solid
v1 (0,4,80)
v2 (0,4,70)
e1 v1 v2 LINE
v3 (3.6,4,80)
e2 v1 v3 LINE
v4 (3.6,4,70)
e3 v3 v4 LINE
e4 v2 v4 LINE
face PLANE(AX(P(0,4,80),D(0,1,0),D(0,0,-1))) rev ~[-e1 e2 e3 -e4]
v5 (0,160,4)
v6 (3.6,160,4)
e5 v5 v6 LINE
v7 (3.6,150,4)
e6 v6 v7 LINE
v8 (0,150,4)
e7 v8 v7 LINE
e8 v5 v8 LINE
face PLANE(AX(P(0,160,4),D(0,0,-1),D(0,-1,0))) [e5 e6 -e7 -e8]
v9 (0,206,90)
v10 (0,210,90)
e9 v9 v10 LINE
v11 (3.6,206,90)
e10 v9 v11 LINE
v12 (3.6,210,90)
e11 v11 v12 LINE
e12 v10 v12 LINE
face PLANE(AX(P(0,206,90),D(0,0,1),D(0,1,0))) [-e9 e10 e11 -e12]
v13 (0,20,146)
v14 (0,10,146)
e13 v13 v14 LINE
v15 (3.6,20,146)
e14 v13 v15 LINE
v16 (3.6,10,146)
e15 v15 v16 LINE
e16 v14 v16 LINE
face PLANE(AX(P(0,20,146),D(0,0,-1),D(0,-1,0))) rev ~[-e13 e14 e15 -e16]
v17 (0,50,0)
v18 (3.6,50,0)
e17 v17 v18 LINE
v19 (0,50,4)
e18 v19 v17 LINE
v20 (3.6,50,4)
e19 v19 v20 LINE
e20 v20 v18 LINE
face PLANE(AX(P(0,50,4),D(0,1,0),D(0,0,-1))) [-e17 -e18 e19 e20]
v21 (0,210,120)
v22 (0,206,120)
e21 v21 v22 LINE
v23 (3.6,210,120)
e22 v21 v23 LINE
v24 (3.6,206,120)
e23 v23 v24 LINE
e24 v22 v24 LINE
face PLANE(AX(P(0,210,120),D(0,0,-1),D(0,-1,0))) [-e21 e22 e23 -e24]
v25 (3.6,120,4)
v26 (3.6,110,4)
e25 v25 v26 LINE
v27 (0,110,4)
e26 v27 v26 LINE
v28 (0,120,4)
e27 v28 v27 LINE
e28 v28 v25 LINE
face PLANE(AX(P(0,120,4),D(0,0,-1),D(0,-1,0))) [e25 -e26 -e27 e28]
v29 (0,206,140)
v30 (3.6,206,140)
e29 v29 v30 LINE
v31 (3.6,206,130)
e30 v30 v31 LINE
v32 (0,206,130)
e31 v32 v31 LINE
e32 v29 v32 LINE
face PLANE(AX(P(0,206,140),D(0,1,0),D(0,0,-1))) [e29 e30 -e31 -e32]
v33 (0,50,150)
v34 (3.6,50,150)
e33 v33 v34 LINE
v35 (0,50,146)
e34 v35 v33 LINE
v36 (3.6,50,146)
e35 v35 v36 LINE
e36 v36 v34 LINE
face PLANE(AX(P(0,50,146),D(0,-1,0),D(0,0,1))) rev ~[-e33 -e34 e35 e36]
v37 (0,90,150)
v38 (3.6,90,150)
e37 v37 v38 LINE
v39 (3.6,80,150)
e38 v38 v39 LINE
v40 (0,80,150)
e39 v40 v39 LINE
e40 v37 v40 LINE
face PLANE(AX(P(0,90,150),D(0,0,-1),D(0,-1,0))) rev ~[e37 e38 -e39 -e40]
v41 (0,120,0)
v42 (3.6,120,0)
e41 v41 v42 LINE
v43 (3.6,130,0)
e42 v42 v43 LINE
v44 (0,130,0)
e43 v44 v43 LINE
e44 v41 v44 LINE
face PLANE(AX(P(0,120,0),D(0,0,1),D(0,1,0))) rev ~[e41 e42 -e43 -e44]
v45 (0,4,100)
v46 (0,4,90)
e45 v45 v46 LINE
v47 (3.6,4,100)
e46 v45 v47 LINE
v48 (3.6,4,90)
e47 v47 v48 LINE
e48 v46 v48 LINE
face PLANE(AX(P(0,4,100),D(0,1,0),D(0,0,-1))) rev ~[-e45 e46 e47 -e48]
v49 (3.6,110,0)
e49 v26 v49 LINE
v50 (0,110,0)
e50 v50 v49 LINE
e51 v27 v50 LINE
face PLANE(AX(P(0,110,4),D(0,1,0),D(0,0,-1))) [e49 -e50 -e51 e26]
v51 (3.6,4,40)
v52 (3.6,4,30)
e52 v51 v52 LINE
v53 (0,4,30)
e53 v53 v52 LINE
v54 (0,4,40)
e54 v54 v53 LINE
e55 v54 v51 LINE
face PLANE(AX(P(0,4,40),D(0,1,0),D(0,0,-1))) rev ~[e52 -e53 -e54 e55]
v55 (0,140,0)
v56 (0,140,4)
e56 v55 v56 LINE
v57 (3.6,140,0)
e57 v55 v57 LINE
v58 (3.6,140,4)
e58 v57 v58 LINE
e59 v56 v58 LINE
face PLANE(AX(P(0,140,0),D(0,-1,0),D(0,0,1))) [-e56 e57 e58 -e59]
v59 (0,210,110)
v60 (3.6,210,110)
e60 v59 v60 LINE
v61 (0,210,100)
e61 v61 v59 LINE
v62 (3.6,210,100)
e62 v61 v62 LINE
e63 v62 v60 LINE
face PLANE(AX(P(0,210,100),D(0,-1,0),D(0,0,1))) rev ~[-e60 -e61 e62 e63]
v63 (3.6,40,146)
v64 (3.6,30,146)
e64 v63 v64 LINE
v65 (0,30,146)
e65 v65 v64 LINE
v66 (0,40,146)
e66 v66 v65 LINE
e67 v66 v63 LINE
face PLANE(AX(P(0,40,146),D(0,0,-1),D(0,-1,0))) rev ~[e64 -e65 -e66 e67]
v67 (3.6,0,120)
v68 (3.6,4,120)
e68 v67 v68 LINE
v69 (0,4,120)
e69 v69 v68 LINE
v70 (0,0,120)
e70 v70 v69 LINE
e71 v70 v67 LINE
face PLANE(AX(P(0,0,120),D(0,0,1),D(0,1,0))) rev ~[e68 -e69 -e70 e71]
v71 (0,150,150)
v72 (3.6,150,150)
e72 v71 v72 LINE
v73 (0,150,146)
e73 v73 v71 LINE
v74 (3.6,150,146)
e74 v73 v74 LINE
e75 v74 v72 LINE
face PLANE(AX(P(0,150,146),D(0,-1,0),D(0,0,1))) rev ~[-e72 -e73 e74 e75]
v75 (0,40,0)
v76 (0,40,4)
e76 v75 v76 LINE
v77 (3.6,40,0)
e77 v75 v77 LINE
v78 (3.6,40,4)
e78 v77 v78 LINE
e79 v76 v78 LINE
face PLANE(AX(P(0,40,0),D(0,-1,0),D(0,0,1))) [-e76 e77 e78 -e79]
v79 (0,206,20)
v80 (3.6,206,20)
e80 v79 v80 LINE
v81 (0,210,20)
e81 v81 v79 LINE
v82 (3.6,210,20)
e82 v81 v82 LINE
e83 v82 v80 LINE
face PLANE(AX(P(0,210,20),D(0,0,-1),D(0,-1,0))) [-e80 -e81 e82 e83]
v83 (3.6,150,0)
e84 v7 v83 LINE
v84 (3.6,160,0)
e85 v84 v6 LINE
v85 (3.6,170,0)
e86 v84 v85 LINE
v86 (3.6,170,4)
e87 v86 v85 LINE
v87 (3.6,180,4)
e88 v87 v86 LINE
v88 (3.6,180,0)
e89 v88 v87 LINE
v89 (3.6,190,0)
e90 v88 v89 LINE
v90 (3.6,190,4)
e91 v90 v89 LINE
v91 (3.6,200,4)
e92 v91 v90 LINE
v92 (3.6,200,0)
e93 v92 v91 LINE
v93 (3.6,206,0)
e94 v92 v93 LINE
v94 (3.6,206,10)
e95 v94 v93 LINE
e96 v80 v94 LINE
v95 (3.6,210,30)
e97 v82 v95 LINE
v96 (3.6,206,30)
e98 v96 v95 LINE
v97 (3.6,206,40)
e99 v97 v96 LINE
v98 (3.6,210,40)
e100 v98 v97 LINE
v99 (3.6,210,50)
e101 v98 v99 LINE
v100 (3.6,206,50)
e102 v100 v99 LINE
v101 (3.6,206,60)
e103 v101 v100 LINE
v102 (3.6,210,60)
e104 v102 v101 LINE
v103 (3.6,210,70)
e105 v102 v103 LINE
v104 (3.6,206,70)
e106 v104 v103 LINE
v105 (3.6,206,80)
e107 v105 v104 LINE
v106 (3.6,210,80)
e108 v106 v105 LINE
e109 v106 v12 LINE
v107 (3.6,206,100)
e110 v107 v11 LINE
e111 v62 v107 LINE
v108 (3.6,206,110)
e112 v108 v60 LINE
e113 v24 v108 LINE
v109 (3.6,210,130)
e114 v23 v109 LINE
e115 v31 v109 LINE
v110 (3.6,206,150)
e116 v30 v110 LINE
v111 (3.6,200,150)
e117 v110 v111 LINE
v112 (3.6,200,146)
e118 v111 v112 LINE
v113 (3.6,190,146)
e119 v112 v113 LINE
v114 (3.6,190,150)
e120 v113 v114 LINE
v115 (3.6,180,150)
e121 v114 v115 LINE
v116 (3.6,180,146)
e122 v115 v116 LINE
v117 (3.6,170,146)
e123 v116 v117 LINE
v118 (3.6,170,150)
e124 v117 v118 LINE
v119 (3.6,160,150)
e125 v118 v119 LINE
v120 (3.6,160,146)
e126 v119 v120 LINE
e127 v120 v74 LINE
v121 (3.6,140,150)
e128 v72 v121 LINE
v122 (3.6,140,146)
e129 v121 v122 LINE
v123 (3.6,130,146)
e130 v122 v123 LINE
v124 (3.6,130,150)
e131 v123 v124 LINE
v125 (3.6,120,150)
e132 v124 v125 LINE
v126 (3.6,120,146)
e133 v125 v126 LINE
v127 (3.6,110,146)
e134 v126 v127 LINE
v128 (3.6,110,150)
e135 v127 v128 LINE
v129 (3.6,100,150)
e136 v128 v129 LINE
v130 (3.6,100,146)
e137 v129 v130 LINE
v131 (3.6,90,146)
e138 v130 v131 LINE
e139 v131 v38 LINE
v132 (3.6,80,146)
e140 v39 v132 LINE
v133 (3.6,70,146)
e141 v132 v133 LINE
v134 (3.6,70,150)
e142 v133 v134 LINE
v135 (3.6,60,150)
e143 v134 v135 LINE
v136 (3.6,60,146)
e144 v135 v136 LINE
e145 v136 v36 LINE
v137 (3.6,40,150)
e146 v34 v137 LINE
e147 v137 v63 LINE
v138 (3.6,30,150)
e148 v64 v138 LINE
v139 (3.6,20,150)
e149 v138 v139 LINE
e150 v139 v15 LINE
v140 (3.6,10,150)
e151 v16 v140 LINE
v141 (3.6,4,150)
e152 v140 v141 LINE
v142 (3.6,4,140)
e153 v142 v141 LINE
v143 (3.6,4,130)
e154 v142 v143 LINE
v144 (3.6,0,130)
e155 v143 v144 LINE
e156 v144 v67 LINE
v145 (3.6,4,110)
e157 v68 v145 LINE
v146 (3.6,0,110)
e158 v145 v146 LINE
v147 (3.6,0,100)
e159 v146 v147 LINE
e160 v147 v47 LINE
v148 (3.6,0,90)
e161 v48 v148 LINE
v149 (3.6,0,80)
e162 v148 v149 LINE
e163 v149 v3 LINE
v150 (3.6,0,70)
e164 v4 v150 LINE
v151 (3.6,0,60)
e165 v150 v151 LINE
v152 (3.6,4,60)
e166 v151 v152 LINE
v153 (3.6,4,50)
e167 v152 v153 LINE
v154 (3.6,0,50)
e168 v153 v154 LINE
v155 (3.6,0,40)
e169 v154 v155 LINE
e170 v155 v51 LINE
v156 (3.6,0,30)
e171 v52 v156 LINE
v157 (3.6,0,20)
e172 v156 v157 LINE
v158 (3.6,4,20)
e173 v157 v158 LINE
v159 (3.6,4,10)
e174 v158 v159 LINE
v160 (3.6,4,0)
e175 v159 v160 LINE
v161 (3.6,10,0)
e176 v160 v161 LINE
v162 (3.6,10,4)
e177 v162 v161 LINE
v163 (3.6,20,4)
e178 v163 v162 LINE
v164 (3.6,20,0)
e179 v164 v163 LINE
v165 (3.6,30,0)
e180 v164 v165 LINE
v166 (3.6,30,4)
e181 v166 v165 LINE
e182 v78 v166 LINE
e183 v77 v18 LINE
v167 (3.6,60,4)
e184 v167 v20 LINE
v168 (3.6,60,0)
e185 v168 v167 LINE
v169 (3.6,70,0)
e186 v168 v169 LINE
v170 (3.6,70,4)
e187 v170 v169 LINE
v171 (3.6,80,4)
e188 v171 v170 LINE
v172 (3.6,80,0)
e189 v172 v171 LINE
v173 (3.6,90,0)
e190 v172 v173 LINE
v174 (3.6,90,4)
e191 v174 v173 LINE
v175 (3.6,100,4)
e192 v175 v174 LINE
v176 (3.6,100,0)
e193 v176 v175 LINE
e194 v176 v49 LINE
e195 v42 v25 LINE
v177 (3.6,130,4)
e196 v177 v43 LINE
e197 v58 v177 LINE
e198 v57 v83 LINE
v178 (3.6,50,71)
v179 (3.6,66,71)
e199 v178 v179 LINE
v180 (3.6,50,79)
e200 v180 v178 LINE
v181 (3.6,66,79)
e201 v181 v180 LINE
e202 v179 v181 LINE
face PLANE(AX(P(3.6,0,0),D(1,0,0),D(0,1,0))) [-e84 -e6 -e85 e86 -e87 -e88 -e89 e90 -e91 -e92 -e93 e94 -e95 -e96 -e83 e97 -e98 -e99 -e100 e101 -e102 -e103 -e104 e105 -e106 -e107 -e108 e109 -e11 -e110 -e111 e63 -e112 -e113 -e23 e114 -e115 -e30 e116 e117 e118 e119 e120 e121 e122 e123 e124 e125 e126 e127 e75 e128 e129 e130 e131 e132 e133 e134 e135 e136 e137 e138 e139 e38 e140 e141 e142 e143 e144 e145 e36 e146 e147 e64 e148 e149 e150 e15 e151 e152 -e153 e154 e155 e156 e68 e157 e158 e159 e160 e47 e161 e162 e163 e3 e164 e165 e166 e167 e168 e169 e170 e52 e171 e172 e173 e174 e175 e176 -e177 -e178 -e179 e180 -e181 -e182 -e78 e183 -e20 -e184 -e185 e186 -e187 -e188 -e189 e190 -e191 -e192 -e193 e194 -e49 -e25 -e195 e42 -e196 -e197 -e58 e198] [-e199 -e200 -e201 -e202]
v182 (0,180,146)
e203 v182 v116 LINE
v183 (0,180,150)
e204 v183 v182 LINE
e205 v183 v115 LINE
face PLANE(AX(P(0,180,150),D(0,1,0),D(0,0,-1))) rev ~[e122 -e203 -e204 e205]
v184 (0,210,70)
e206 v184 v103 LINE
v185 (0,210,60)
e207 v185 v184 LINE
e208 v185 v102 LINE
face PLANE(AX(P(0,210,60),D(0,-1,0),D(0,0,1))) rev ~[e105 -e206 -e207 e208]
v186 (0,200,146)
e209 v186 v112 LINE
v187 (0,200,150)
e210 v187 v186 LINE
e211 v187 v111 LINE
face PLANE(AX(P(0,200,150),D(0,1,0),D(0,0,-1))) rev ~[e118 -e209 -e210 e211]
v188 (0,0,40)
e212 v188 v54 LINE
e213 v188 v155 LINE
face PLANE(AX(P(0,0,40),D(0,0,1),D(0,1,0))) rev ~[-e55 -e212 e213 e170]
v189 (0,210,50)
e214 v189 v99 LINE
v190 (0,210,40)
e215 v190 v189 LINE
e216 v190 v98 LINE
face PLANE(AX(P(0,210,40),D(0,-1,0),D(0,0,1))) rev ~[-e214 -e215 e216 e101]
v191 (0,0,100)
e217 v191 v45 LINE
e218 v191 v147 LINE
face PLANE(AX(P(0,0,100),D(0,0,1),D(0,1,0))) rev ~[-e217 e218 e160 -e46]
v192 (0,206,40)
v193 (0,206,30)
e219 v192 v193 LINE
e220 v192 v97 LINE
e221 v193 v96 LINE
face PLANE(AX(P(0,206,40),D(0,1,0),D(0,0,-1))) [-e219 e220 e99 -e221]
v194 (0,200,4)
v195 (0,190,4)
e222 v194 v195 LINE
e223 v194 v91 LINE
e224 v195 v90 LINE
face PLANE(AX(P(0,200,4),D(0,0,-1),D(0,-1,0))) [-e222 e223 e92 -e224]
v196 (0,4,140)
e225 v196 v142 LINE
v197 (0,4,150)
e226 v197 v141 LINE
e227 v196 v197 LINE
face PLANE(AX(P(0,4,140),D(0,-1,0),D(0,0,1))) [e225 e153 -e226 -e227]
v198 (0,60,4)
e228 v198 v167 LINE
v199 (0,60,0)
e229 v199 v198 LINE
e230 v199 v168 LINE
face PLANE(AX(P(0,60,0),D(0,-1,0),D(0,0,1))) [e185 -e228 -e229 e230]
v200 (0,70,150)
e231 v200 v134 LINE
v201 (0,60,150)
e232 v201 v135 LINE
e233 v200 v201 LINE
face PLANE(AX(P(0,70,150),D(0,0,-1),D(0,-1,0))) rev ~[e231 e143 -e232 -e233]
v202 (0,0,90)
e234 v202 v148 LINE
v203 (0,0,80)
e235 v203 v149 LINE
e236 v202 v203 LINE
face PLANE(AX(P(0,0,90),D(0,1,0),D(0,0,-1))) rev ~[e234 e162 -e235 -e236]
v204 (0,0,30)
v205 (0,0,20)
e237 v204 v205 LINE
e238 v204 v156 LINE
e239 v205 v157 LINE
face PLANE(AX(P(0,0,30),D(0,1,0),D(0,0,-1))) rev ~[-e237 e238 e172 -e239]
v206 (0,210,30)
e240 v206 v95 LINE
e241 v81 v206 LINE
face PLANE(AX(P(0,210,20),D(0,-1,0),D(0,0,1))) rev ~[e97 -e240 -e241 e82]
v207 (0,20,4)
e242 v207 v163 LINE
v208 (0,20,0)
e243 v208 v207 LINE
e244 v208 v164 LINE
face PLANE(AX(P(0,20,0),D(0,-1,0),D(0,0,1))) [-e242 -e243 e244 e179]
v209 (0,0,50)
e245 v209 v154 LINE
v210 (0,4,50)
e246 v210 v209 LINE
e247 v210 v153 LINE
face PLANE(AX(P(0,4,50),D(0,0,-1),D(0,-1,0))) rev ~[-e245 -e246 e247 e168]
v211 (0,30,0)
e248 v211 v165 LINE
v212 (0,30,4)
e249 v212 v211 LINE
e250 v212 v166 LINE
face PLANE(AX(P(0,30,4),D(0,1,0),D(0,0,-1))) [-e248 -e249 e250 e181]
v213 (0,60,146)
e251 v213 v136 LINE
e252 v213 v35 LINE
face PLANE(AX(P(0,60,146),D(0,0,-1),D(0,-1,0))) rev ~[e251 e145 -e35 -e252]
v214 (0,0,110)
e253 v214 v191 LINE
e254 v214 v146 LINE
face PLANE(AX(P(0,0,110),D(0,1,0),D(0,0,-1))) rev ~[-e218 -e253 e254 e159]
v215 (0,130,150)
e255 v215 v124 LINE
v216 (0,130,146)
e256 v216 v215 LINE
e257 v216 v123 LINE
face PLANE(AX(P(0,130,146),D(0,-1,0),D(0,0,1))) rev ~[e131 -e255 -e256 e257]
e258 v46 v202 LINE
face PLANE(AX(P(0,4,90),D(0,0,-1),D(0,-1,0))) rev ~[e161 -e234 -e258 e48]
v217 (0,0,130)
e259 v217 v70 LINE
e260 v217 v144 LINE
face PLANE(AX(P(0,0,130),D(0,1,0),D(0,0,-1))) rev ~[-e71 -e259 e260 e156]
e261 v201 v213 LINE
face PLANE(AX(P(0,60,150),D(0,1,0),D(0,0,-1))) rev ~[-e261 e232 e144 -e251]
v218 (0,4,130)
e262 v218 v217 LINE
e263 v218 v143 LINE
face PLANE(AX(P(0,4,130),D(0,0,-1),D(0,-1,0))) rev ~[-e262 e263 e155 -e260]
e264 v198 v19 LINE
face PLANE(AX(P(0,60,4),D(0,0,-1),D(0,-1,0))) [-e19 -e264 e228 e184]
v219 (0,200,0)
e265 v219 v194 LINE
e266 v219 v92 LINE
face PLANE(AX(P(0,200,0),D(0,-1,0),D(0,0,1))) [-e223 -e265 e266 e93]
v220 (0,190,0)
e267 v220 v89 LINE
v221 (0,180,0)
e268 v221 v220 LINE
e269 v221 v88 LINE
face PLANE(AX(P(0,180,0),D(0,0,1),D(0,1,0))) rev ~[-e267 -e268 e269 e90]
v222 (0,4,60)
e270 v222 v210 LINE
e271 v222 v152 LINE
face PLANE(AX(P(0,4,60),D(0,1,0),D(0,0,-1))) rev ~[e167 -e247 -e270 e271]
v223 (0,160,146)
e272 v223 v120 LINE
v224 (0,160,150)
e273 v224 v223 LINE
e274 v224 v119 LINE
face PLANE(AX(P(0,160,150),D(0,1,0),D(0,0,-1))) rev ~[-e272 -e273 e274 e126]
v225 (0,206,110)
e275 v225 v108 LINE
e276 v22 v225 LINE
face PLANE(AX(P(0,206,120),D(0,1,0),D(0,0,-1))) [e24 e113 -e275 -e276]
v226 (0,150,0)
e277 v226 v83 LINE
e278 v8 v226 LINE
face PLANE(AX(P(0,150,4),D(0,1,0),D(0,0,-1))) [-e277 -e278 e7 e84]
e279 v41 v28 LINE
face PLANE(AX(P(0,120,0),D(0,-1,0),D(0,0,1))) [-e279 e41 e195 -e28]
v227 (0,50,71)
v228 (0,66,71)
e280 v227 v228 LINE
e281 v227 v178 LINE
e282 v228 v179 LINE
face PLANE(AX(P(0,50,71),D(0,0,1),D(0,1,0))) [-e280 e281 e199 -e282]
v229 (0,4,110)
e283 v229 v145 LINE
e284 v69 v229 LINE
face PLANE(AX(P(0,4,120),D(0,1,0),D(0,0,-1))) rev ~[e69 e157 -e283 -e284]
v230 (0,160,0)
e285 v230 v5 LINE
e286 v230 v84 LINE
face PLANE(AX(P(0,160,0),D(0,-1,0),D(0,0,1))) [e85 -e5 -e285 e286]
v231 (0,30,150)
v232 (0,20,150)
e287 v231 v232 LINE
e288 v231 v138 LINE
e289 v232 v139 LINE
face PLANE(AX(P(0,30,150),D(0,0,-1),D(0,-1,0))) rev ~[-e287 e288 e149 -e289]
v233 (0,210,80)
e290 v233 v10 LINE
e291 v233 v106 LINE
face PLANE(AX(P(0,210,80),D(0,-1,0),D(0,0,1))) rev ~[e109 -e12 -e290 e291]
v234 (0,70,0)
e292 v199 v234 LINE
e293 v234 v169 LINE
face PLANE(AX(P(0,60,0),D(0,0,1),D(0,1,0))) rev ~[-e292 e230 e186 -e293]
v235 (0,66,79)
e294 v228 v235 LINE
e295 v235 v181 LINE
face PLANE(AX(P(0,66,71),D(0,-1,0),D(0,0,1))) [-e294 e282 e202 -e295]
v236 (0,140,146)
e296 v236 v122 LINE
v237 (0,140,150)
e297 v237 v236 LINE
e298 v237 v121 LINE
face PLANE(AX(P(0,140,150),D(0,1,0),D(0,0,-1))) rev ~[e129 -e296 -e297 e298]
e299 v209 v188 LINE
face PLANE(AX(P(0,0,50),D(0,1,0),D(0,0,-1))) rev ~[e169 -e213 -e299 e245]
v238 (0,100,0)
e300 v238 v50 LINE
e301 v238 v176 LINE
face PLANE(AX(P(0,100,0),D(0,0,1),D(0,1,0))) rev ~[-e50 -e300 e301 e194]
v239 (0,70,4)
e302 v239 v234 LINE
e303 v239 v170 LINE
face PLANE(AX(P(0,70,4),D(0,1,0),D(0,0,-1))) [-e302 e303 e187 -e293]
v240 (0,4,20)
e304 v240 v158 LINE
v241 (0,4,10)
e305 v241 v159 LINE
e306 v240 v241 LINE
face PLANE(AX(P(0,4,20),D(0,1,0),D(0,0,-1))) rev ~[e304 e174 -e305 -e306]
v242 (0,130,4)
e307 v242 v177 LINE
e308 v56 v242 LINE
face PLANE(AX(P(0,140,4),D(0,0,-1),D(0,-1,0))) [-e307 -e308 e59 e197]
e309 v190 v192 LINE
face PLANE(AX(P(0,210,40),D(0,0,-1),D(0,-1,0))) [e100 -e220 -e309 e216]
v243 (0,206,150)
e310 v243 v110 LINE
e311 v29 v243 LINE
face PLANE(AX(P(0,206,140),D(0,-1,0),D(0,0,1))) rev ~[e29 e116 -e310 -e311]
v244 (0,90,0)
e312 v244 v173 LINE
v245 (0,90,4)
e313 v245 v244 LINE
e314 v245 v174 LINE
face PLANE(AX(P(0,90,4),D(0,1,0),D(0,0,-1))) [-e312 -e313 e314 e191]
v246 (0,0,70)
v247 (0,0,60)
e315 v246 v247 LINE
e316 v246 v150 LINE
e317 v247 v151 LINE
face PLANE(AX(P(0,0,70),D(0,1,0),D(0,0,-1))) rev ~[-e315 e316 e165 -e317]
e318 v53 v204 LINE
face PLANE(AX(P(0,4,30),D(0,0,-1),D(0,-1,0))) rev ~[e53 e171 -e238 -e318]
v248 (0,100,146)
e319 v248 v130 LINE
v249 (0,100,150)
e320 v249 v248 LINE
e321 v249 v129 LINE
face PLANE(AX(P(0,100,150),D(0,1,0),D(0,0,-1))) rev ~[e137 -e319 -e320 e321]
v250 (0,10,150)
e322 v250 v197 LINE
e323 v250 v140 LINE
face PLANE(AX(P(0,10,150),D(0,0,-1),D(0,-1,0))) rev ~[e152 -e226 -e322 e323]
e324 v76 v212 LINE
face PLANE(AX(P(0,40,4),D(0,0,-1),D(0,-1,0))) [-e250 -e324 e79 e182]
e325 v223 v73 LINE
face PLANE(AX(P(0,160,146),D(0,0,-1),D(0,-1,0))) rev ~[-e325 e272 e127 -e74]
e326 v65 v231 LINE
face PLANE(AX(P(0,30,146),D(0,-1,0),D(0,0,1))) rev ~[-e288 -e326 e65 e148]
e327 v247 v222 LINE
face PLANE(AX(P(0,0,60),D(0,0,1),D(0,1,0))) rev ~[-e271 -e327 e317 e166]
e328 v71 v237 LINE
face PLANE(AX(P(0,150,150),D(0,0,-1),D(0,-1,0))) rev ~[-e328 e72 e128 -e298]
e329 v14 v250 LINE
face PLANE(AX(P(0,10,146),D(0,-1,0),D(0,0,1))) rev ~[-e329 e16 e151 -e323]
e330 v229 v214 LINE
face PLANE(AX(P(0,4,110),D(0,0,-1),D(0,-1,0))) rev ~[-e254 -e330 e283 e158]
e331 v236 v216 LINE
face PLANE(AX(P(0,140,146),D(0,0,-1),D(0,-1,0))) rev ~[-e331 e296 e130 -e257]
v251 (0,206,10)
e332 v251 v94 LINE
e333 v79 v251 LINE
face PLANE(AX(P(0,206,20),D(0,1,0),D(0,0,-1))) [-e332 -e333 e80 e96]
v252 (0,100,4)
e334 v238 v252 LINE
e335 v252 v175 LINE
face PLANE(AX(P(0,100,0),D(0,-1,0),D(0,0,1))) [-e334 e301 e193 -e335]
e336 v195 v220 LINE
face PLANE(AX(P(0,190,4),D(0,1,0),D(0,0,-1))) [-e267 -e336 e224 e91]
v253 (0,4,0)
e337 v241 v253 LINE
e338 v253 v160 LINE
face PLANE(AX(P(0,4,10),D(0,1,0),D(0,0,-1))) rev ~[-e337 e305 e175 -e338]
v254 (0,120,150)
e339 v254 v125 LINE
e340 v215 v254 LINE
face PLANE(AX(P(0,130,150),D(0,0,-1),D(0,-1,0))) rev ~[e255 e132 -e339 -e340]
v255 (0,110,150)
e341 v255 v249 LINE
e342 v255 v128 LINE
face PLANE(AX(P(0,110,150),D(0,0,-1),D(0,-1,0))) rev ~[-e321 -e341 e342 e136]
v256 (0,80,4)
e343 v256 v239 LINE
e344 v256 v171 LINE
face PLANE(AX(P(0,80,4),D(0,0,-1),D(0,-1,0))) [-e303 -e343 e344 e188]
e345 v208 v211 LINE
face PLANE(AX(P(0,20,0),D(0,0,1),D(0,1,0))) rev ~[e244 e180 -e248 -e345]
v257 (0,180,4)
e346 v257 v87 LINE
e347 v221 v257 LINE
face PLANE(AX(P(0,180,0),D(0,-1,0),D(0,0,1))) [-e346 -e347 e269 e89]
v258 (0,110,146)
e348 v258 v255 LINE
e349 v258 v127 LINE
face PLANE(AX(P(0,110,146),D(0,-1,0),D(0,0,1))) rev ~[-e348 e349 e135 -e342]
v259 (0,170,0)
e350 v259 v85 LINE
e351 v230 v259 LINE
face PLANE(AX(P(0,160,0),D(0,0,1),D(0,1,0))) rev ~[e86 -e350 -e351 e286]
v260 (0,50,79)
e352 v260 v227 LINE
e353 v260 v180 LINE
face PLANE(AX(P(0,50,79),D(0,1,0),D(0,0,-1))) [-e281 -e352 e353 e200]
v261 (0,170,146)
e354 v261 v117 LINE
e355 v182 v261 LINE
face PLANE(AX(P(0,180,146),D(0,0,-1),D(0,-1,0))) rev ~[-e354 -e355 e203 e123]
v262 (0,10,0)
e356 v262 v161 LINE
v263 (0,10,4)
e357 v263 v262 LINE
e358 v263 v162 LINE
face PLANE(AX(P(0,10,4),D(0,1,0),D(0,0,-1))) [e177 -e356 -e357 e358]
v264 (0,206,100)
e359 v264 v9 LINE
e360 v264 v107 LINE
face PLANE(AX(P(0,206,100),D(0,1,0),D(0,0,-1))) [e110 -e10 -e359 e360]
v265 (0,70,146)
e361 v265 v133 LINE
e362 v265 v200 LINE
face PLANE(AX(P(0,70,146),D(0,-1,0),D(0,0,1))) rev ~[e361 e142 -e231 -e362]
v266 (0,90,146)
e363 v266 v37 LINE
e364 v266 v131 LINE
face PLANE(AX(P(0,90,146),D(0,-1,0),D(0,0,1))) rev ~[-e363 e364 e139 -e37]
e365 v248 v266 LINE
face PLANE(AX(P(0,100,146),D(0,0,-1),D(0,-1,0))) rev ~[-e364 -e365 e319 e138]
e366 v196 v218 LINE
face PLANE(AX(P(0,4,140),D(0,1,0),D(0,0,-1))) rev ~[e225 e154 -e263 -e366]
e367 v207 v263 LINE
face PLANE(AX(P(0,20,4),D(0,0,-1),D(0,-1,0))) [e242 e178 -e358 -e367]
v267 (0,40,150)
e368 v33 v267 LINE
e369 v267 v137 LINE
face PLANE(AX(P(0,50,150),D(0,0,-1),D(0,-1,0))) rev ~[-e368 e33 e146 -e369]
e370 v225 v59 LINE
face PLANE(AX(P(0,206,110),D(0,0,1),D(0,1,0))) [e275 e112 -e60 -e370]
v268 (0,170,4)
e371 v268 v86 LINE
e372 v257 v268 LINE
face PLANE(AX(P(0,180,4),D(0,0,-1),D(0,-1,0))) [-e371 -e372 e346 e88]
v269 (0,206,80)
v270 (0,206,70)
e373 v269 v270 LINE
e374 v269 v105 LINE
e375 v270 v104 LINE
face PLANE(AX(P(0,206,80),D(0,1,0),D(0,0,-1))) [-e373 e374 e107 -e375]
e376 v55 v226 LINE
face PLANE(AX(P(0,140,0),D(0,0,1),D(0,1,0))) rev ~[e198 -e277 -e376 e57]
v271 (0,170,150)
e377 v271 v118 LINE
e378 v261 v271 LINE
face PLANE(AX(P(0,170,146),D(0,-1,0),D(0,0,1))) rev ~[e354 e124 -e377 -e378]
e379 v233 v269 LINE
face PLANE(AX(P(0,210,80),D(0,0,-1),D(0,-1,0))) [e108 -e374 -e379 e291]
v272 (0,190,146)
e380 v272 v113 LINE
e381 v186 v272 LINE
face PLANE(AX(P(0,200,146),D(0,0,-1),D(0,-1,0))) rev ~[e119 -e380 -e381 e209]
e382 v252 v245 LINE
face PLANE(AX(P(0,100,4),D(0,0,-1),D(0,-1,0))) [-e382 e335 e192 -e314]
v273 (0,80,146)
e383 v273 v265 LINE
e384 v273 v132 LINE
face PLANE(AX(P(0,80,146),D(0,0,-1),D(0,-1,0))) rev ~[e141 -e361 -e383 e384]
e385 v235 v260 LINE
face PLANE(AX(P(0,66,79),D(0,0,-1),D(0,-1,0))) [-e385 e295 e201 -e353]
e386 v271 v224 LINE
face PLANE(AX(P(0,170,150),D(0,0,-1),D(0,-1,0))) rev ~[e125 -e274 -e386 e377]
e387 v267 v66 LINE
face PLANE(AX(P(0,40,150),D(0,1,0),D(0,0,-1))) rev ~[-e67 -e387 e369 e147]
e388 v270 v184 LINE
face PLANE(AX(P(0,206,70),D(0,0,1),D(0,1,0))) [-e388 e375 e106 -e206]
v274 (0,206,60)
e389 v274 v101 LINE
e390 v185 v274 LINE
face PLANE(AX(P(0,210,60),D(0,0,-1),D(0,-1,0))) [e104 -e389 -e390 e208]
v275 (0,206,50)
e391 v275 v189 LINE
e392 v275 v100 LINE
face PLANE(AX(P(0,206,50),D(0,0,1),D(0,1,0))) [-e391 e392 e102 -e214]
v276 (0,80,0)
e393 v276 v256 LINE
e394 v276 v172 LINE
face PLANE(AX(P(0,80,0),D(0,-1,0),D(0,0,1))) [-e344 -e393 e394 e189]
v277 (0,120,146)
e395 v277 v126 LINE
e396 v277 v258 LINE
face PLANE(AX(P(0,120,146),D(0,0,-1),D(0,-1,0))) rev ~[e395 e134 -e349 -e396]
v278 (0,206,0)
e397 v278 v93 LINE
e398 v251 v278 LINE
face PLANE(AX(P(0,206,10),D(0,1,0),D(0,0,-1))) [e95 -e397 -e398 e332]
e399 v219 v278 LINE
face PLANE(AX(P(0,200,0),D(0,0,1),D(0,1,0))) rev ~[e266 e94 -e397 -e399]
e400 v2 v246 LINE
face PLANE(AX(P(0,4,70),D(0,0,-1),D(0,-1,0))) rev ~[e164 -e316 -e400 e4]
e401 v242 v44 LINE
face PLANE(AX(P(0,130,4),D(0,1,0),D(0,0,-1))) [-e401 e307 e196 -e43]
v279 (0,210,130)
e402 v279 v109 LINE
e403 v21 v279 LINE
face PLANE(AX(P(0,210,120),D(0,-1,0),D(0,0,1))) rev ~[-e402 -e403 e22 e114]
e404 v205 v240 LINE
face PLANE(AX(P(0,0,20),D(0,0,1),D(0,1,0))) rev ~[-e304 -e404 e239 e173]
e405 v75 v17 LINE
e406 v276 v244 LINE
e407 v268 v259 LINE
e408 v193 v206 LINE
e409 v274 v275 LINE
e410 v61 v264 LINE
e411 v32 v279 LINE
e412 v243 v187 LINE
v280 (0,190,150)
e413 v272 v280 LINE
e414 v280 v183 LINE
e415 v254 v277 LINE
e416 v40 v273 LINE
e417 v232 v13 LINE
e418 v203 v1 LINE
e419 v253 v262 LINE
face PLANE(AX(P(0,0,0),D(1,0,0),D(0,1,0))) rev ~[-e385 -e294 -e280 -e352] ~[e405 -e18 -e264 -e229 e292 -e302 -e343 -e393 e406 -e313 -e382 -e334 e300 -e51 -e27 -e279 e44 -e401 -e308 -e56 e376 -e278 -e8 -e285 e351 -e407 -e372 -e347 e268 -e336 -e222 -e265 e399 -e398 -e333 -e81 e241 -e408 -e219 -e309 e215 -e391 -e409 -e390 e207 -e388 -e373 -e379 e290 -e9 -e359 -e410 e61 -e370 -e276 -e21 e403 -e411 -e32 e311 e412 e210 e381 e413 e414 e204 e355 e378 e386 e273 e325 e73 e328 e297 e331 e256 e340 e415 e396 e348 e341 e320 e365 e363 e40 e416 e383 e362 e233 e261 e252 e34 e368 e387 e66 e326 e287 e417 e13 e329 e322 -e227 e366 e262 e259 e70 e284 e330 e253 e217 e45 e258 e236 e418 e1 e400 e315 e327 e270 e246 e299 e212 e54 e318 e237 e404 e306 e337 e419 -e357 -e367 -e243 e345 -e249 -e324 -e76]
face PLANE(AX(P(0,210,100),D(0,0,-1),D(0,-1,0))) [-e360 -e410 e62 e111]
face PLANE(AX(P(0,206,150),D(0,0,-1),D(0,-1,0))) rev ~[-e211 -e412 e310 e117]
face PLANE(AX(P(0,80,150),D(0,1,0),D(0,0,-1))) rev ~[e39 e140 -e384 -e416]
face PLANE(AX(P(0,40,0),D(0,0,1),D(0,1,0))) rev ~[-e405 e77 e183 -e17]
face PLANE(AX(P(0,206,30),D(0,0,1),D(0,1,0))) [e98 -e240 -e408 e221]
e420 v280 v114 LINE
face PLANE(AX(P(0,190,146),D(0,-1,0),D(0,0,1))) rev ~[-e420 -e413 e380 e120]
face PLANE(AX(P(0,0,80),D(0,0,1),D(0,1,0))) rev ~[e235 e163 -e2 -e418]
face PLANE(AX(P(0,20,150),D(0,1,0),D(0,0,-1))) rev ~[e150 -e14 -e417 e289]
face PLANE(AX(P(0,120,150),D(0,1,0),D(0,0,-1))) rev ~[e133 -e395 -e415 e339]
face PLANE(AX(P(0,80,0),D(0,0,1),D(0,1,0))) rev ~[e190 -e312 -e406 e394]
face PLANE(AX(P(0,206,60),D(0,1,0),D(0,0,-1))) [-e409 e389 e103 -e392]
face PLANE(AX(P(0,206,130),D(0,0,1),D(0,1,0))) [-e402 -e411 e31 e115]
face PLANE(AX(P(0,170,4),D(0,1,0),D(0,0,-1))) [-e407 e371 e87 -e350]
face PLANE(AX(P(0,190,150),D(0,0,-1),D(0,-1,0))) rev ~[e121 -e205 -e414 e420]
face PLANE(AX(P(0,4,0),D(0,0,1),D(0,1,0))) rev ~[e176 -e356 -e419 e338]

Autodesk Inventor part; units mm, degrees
ref_plane "YZ Plane" through (0, 0, 0) normal (1, 0, 0) x (0, 1, 0)
ref_plane "XZ Plane" through (0, 0, 0) normal (0, 1, 0) x (-1, 0, 0)
ref_plane "XY Plane" through (0, 0, 0) normal (0, 0, 1) x (1, 0, 0)
sketch "Sketch1" plane through (0, 0, 0) normal (1, 0, 0) x (0, 1, 0)
  line L0 (0, 0) -> (210, 0)
  line L1 (210, 0) -> (210, 150)
  line L2 (210, 150) -> (0, 150)
  line L3 (0, 150) -> (0, 0)
  line L4 (66, 79) -> (50, 79)
  line L5 (50, 79) -> (50, 71)
  line L6 (50, 71) -> (66, 71)
  line L7 (66, 71) -> (66, 79)
  line L8 (0, 140) -> (4, 140)
  line L9 (4, 140) -> (4, 130)
  line L10 (4, 130) -> (0, 130)
  line L11 (0, 130) -> (0, 140)
  line L12 (0, 120) -> (4, 120)
  line L13 (4, 120) -> (4, 110)
  line L14 (4, 110) -> (0, 110)
  line L15 (0, 110) -> (0, 120)
  line L16 (0, 100) -> (4, 100)
  line L17 (4, 100) -> (4, 90)
  line L18 (4, 90) -> (0, 90)
  line L19 (0, 90) -> (0, 100)
  line L20 (0, 80) -> (4, 80)
  line L21 (4, 80) -> (4, 70)
  line L22 (4, 70) -> (0, 70)
  line L23 (0, 70) -> (0, 80)
  line L24 (0, 60) -> (4, 60)
  line L25 (4, 60) -> (4, 50)
  line L26 (4, 50) -> (0, 50)
  line L27 (0, 50) -> (0, 60)
  line L28 (0, 40) -> (4, 40)
  line L29 (4, 40) -> (4, 30)
  line L30 (4, 30) -> (0, 30)
  line L31 (0, 30) -> (0, 40)
  line L32 (0, 20) -> (4, 20)
  line L33 (4, 20) -> (4, 10)
  line L34 (4, 10) -> (0, 10)
  line L35 (0, 10) -> (0, 20)
  line L36 (10, 150) -> (20, 150)
  line L37 (20, 150) -> (20, 146)
  line L38 (20, 146) -> (10, 146)
  line L39 (10, 146) -> (10, 150)
  line L40 (30, 150) -> (40, 150)
  line L41 (40, 150) -> (40, 146)
  line L42 (40, 146) -> (30, 146)
  line L43 (30, 146) -> (30, 150)
  line L44 (50, 150) -> (60, 150)
  line L45 (60, 150) -> (60, 146)
  line L46 (60, 146) -> (50, 146)
  line L47 (50, 146) -> (50, 150)
  line L48 (70, 150) -> (80, 150)
  line L49 (80, 150) -> (80, 146)
  line L50 (80, 146) -> (70, 146)
  line L51 (70, 146) -> (70, 150)
  line L52 (90, 150) -> (100, 150)
  line L53 (100, 150) -> (100, 146)
  line L54 (100, 146) -> (90, 146)
  line L55 (90, 146) -> (90, 150)
  line L56 (110, 150) -> (120, 150)
  line L57 (120, 150) -> (120, 146)
  line L58 (120, 146) -> (110, 146)
  line L59 (110, 146) -> (110, 150)
  line L60 (130, 150) -> (140, 150)
  line L61 (140, 150) -> (140, 146)
  line L62 (140, 146) -> (130, 146)
  line L63 (130, 146) -> (130, 150)
  line L64 (150, 150) -> (160, 150)
  line L65 (160, 150) -> (160, 146)
  line L66 (160, 146) -> (150, 146)
  line L67 (150, 146) -> (150, 150)
  line L68 (170, 150) -> (180, 150)
  line L69 (180, 150) -> (180, 146)
  line L70 (180, 146) -> (170, 146)
  line L71 (170, 146) -> (170, 150)
  line L72 (190, 150) -> (200, 150)
  line L73 (200, 150) -> (200, 146)
  line L74 (200, 146) -> (190, 146)
  line L75 (190, 146) -> (190, 150)
  line L76 (0, 10) -> (4, 10)
  line L77 (4, 10) -> (4, 0)
  line L78 (4, 0) -> (0, 0)
  line L79 (0, 0) -> (0, 10)
  line L80 (0, 140) -> (4, 140)
  line L81 (4, 140) -> (4, 150)
  line L82 (4, 150) -> (0, 150)
  line L83 (0, 150) -> (0, 140)
  line L84 (10, 0) -> (20, 0)
  line L85 (20, 0) -> (20, 4)
  line L86 (20, 4) -> (10, 4)
  line L87 (10, 4) -> (10, 0)
  line L88 (30, 0) -> (40, 0)
  line L89 (40, 0) -> (40, 4)
  line L90 (40, 4) -> (30, 4)
  line L91 (30, 4) -> (30, 0)
  line L92 (50, 0) -> (60, 0)
  line L93 (60, 0) -> (60, 4)
  line L94 (60, 4) -> (50, 4)
  line L95 (50, 4) -> (50, 0)
  line L96 (70, 0) -> (80, 0)
  line L97 (80, 0) -> (80, 4)
  line L98 (80, 4) -> (70, 4)
  line L99 (70, 4) -> (70, 0)
  line L100 (90, 0) -> (100, 0)
  line L101 (100, 0) -> (100, 4)
  line L102 (100, 4) -> (90, 4)
  line L103 (90, 4) -> (90, 0)
  line L104 (110, 0) -> (120, 0)
  line L105 (120, 0) -> (120, 4)
  line L106 (120, 4) -> (110, 4)
  line L107 (110, 4) -> (110, 0)
  line L108 (130, 0) -> (140, 0)
  line L109 (140, 0) -> (140, 4)
  line L110 (140, 4) -> (130, 4)
  line L111 (130, 4) -> (130, 0)
  line L112 (150, 0) -> (160, 0)
  line L113 (160, 0) -> (160, 4)
  line L114 (160, 4) -> (150, 4)
  line L115 (150, 4) -> (150, 0)
  line L116 (170, 0) -> (180, 0)
  line L117 (180, 0) -> (180, 4)
  line L118 (180, 4) -> (170, 4)
  line L119 (170, 4) -> (170, 0)
  line L120 (190, 0) -> (200, 0)
  line L121 (200, 0) -> (200, 4)
  line L122 (200, 4) -> (190, 4)
  line L123 (190, 4) -> (190, 0)
  line L124 (210, 140) -> (206, 140)
  line L125 (206, 140) -> (206, 130)
  line L126 (206, 130) -> (210, 130)
  line L127 (210, 130) -> (210, 140)
  line L128 (210, 120) -> (206, 120)
  line L129 (206, 120) -> (206, 110)
  line L130 (206, 110) -> (210, 110)
  line L131 (210, 110) -> (210, 120)
  line L132 (210, 100) -> (206, 100)
  line L133 (206, 100) -> (206, 90)
  line L134 (206, 90) -> (210, 90)
  line L135 (210, 90) -> (210, 100)
  line L136 (210, 80) -> (206, 80)
  line L137 (206, 80) -> (206, 70)
  line L138 (206, 70) -> (210, 70)
  line L139 (210, 70) -> (210, 80)
  line L140 (210, 60) -> (206, 60)
  line L141 (206, 60) -> (206, 50)
  line L142 (206, 50) -> (210, 50)
  line L143 (210, 50) -> (210, 60)
  line L144 (210, 40) -> (206, 40)
  line L145 (206, 40) -> (206, 30)
  line L146 (206, 30) -> (210, 30)
  line L147 (210, 30) -> (210, 40)
  line L148 (210, 20) -> (206, 20)
  line L149 (206, 20) -> (206, 10)
  line L150 (206, 10) -> (210, 10)
  line L151 (210, 10) -> (210, 20)
  line L152 (206, 140) -> (206, 150)
  line L153 (206, 10) -> (206, 0)
  line L154 (206, 10) -> (210, 10)
  line L155 (210, 10) -> (210, 0)
  line L156 (210, 0) -> (206, 0)
  line L157 (206, 0) -> (206, 10)
  point P0 (0, 130)
  point P1 (0, 110)
  point P2 (0, 90)
  point P3 (0, 70)
  point P4 (0, 50)
  point P5 (0, 30)
  point P6 (24, 0)
  point P7 (44, 0)
  point P8 (64, 0)
  point P9 (84, 0)
  point P10 (104, 0)
  point P11 (124, 0)
  point P12 (144, 0)
  point P13 (164, 0)
  point P14 (184, 0)
  point P15 (210, 130)
  point P16 (210, 110)
  point P17 (210, 90)
  point P18 (210, 70)
  point P19 (210, 50)
  point P20 (210, 30)
  dimension "d0" = 150
  dimension "d1" = 210
  dimension "d2" = 8
  dimension "d3" = 16
  dimension "d4" = 71
  dimension "d5" = 50
  dimension "d6" = 4
  dimension "d7" = 10
  dimension "d8" = 10
  dimension "d11" = 20
  dimension "d16" = 4
  dimension "d17" = 10
  dimension "d18" = 10
  dimension "d21" = 20
  dimension "d26" = 4
  dimension "d27" = 10
  dimension "d30" = 20
  dimension "d35" = 4
  dimension "d36" = 10
  dimension "d37" = 10
  dimension "d40" = 20
extrude "Extrusion1" add sketch "Sketch1" along normal blind 3.6 contours L77 L33 L32 L3 L30 L29 L28 L26 L25 L24 L22 L21 L20 L18 L17 L16 L14 L13 L12 L10 L9 L81 L2 L39 L38 L37 L43 L42 L41 L47 L46 L45 L51 L50 L49 L55 L54 L53 L59 L58 L57 L63 L62 L61 L67 L66 L65 L71 L70 L69 L75 L74 L73 L152 L125 L126 L1 L128 L129 L130 L132 L133 L134 L136 L137 L138 L140 L141 L142 L144 L145 L146 L148 L149 L153 L0 L121 L122 L123 L117 L118 L119 L113 L114 L115 L109 L110 L111 L105 L106 L107 L101 L102 L103 L97 L98 L99 L93 L94 L95 L89 L90 L91 L85 L86 L87
properties part number "zijplaat"
